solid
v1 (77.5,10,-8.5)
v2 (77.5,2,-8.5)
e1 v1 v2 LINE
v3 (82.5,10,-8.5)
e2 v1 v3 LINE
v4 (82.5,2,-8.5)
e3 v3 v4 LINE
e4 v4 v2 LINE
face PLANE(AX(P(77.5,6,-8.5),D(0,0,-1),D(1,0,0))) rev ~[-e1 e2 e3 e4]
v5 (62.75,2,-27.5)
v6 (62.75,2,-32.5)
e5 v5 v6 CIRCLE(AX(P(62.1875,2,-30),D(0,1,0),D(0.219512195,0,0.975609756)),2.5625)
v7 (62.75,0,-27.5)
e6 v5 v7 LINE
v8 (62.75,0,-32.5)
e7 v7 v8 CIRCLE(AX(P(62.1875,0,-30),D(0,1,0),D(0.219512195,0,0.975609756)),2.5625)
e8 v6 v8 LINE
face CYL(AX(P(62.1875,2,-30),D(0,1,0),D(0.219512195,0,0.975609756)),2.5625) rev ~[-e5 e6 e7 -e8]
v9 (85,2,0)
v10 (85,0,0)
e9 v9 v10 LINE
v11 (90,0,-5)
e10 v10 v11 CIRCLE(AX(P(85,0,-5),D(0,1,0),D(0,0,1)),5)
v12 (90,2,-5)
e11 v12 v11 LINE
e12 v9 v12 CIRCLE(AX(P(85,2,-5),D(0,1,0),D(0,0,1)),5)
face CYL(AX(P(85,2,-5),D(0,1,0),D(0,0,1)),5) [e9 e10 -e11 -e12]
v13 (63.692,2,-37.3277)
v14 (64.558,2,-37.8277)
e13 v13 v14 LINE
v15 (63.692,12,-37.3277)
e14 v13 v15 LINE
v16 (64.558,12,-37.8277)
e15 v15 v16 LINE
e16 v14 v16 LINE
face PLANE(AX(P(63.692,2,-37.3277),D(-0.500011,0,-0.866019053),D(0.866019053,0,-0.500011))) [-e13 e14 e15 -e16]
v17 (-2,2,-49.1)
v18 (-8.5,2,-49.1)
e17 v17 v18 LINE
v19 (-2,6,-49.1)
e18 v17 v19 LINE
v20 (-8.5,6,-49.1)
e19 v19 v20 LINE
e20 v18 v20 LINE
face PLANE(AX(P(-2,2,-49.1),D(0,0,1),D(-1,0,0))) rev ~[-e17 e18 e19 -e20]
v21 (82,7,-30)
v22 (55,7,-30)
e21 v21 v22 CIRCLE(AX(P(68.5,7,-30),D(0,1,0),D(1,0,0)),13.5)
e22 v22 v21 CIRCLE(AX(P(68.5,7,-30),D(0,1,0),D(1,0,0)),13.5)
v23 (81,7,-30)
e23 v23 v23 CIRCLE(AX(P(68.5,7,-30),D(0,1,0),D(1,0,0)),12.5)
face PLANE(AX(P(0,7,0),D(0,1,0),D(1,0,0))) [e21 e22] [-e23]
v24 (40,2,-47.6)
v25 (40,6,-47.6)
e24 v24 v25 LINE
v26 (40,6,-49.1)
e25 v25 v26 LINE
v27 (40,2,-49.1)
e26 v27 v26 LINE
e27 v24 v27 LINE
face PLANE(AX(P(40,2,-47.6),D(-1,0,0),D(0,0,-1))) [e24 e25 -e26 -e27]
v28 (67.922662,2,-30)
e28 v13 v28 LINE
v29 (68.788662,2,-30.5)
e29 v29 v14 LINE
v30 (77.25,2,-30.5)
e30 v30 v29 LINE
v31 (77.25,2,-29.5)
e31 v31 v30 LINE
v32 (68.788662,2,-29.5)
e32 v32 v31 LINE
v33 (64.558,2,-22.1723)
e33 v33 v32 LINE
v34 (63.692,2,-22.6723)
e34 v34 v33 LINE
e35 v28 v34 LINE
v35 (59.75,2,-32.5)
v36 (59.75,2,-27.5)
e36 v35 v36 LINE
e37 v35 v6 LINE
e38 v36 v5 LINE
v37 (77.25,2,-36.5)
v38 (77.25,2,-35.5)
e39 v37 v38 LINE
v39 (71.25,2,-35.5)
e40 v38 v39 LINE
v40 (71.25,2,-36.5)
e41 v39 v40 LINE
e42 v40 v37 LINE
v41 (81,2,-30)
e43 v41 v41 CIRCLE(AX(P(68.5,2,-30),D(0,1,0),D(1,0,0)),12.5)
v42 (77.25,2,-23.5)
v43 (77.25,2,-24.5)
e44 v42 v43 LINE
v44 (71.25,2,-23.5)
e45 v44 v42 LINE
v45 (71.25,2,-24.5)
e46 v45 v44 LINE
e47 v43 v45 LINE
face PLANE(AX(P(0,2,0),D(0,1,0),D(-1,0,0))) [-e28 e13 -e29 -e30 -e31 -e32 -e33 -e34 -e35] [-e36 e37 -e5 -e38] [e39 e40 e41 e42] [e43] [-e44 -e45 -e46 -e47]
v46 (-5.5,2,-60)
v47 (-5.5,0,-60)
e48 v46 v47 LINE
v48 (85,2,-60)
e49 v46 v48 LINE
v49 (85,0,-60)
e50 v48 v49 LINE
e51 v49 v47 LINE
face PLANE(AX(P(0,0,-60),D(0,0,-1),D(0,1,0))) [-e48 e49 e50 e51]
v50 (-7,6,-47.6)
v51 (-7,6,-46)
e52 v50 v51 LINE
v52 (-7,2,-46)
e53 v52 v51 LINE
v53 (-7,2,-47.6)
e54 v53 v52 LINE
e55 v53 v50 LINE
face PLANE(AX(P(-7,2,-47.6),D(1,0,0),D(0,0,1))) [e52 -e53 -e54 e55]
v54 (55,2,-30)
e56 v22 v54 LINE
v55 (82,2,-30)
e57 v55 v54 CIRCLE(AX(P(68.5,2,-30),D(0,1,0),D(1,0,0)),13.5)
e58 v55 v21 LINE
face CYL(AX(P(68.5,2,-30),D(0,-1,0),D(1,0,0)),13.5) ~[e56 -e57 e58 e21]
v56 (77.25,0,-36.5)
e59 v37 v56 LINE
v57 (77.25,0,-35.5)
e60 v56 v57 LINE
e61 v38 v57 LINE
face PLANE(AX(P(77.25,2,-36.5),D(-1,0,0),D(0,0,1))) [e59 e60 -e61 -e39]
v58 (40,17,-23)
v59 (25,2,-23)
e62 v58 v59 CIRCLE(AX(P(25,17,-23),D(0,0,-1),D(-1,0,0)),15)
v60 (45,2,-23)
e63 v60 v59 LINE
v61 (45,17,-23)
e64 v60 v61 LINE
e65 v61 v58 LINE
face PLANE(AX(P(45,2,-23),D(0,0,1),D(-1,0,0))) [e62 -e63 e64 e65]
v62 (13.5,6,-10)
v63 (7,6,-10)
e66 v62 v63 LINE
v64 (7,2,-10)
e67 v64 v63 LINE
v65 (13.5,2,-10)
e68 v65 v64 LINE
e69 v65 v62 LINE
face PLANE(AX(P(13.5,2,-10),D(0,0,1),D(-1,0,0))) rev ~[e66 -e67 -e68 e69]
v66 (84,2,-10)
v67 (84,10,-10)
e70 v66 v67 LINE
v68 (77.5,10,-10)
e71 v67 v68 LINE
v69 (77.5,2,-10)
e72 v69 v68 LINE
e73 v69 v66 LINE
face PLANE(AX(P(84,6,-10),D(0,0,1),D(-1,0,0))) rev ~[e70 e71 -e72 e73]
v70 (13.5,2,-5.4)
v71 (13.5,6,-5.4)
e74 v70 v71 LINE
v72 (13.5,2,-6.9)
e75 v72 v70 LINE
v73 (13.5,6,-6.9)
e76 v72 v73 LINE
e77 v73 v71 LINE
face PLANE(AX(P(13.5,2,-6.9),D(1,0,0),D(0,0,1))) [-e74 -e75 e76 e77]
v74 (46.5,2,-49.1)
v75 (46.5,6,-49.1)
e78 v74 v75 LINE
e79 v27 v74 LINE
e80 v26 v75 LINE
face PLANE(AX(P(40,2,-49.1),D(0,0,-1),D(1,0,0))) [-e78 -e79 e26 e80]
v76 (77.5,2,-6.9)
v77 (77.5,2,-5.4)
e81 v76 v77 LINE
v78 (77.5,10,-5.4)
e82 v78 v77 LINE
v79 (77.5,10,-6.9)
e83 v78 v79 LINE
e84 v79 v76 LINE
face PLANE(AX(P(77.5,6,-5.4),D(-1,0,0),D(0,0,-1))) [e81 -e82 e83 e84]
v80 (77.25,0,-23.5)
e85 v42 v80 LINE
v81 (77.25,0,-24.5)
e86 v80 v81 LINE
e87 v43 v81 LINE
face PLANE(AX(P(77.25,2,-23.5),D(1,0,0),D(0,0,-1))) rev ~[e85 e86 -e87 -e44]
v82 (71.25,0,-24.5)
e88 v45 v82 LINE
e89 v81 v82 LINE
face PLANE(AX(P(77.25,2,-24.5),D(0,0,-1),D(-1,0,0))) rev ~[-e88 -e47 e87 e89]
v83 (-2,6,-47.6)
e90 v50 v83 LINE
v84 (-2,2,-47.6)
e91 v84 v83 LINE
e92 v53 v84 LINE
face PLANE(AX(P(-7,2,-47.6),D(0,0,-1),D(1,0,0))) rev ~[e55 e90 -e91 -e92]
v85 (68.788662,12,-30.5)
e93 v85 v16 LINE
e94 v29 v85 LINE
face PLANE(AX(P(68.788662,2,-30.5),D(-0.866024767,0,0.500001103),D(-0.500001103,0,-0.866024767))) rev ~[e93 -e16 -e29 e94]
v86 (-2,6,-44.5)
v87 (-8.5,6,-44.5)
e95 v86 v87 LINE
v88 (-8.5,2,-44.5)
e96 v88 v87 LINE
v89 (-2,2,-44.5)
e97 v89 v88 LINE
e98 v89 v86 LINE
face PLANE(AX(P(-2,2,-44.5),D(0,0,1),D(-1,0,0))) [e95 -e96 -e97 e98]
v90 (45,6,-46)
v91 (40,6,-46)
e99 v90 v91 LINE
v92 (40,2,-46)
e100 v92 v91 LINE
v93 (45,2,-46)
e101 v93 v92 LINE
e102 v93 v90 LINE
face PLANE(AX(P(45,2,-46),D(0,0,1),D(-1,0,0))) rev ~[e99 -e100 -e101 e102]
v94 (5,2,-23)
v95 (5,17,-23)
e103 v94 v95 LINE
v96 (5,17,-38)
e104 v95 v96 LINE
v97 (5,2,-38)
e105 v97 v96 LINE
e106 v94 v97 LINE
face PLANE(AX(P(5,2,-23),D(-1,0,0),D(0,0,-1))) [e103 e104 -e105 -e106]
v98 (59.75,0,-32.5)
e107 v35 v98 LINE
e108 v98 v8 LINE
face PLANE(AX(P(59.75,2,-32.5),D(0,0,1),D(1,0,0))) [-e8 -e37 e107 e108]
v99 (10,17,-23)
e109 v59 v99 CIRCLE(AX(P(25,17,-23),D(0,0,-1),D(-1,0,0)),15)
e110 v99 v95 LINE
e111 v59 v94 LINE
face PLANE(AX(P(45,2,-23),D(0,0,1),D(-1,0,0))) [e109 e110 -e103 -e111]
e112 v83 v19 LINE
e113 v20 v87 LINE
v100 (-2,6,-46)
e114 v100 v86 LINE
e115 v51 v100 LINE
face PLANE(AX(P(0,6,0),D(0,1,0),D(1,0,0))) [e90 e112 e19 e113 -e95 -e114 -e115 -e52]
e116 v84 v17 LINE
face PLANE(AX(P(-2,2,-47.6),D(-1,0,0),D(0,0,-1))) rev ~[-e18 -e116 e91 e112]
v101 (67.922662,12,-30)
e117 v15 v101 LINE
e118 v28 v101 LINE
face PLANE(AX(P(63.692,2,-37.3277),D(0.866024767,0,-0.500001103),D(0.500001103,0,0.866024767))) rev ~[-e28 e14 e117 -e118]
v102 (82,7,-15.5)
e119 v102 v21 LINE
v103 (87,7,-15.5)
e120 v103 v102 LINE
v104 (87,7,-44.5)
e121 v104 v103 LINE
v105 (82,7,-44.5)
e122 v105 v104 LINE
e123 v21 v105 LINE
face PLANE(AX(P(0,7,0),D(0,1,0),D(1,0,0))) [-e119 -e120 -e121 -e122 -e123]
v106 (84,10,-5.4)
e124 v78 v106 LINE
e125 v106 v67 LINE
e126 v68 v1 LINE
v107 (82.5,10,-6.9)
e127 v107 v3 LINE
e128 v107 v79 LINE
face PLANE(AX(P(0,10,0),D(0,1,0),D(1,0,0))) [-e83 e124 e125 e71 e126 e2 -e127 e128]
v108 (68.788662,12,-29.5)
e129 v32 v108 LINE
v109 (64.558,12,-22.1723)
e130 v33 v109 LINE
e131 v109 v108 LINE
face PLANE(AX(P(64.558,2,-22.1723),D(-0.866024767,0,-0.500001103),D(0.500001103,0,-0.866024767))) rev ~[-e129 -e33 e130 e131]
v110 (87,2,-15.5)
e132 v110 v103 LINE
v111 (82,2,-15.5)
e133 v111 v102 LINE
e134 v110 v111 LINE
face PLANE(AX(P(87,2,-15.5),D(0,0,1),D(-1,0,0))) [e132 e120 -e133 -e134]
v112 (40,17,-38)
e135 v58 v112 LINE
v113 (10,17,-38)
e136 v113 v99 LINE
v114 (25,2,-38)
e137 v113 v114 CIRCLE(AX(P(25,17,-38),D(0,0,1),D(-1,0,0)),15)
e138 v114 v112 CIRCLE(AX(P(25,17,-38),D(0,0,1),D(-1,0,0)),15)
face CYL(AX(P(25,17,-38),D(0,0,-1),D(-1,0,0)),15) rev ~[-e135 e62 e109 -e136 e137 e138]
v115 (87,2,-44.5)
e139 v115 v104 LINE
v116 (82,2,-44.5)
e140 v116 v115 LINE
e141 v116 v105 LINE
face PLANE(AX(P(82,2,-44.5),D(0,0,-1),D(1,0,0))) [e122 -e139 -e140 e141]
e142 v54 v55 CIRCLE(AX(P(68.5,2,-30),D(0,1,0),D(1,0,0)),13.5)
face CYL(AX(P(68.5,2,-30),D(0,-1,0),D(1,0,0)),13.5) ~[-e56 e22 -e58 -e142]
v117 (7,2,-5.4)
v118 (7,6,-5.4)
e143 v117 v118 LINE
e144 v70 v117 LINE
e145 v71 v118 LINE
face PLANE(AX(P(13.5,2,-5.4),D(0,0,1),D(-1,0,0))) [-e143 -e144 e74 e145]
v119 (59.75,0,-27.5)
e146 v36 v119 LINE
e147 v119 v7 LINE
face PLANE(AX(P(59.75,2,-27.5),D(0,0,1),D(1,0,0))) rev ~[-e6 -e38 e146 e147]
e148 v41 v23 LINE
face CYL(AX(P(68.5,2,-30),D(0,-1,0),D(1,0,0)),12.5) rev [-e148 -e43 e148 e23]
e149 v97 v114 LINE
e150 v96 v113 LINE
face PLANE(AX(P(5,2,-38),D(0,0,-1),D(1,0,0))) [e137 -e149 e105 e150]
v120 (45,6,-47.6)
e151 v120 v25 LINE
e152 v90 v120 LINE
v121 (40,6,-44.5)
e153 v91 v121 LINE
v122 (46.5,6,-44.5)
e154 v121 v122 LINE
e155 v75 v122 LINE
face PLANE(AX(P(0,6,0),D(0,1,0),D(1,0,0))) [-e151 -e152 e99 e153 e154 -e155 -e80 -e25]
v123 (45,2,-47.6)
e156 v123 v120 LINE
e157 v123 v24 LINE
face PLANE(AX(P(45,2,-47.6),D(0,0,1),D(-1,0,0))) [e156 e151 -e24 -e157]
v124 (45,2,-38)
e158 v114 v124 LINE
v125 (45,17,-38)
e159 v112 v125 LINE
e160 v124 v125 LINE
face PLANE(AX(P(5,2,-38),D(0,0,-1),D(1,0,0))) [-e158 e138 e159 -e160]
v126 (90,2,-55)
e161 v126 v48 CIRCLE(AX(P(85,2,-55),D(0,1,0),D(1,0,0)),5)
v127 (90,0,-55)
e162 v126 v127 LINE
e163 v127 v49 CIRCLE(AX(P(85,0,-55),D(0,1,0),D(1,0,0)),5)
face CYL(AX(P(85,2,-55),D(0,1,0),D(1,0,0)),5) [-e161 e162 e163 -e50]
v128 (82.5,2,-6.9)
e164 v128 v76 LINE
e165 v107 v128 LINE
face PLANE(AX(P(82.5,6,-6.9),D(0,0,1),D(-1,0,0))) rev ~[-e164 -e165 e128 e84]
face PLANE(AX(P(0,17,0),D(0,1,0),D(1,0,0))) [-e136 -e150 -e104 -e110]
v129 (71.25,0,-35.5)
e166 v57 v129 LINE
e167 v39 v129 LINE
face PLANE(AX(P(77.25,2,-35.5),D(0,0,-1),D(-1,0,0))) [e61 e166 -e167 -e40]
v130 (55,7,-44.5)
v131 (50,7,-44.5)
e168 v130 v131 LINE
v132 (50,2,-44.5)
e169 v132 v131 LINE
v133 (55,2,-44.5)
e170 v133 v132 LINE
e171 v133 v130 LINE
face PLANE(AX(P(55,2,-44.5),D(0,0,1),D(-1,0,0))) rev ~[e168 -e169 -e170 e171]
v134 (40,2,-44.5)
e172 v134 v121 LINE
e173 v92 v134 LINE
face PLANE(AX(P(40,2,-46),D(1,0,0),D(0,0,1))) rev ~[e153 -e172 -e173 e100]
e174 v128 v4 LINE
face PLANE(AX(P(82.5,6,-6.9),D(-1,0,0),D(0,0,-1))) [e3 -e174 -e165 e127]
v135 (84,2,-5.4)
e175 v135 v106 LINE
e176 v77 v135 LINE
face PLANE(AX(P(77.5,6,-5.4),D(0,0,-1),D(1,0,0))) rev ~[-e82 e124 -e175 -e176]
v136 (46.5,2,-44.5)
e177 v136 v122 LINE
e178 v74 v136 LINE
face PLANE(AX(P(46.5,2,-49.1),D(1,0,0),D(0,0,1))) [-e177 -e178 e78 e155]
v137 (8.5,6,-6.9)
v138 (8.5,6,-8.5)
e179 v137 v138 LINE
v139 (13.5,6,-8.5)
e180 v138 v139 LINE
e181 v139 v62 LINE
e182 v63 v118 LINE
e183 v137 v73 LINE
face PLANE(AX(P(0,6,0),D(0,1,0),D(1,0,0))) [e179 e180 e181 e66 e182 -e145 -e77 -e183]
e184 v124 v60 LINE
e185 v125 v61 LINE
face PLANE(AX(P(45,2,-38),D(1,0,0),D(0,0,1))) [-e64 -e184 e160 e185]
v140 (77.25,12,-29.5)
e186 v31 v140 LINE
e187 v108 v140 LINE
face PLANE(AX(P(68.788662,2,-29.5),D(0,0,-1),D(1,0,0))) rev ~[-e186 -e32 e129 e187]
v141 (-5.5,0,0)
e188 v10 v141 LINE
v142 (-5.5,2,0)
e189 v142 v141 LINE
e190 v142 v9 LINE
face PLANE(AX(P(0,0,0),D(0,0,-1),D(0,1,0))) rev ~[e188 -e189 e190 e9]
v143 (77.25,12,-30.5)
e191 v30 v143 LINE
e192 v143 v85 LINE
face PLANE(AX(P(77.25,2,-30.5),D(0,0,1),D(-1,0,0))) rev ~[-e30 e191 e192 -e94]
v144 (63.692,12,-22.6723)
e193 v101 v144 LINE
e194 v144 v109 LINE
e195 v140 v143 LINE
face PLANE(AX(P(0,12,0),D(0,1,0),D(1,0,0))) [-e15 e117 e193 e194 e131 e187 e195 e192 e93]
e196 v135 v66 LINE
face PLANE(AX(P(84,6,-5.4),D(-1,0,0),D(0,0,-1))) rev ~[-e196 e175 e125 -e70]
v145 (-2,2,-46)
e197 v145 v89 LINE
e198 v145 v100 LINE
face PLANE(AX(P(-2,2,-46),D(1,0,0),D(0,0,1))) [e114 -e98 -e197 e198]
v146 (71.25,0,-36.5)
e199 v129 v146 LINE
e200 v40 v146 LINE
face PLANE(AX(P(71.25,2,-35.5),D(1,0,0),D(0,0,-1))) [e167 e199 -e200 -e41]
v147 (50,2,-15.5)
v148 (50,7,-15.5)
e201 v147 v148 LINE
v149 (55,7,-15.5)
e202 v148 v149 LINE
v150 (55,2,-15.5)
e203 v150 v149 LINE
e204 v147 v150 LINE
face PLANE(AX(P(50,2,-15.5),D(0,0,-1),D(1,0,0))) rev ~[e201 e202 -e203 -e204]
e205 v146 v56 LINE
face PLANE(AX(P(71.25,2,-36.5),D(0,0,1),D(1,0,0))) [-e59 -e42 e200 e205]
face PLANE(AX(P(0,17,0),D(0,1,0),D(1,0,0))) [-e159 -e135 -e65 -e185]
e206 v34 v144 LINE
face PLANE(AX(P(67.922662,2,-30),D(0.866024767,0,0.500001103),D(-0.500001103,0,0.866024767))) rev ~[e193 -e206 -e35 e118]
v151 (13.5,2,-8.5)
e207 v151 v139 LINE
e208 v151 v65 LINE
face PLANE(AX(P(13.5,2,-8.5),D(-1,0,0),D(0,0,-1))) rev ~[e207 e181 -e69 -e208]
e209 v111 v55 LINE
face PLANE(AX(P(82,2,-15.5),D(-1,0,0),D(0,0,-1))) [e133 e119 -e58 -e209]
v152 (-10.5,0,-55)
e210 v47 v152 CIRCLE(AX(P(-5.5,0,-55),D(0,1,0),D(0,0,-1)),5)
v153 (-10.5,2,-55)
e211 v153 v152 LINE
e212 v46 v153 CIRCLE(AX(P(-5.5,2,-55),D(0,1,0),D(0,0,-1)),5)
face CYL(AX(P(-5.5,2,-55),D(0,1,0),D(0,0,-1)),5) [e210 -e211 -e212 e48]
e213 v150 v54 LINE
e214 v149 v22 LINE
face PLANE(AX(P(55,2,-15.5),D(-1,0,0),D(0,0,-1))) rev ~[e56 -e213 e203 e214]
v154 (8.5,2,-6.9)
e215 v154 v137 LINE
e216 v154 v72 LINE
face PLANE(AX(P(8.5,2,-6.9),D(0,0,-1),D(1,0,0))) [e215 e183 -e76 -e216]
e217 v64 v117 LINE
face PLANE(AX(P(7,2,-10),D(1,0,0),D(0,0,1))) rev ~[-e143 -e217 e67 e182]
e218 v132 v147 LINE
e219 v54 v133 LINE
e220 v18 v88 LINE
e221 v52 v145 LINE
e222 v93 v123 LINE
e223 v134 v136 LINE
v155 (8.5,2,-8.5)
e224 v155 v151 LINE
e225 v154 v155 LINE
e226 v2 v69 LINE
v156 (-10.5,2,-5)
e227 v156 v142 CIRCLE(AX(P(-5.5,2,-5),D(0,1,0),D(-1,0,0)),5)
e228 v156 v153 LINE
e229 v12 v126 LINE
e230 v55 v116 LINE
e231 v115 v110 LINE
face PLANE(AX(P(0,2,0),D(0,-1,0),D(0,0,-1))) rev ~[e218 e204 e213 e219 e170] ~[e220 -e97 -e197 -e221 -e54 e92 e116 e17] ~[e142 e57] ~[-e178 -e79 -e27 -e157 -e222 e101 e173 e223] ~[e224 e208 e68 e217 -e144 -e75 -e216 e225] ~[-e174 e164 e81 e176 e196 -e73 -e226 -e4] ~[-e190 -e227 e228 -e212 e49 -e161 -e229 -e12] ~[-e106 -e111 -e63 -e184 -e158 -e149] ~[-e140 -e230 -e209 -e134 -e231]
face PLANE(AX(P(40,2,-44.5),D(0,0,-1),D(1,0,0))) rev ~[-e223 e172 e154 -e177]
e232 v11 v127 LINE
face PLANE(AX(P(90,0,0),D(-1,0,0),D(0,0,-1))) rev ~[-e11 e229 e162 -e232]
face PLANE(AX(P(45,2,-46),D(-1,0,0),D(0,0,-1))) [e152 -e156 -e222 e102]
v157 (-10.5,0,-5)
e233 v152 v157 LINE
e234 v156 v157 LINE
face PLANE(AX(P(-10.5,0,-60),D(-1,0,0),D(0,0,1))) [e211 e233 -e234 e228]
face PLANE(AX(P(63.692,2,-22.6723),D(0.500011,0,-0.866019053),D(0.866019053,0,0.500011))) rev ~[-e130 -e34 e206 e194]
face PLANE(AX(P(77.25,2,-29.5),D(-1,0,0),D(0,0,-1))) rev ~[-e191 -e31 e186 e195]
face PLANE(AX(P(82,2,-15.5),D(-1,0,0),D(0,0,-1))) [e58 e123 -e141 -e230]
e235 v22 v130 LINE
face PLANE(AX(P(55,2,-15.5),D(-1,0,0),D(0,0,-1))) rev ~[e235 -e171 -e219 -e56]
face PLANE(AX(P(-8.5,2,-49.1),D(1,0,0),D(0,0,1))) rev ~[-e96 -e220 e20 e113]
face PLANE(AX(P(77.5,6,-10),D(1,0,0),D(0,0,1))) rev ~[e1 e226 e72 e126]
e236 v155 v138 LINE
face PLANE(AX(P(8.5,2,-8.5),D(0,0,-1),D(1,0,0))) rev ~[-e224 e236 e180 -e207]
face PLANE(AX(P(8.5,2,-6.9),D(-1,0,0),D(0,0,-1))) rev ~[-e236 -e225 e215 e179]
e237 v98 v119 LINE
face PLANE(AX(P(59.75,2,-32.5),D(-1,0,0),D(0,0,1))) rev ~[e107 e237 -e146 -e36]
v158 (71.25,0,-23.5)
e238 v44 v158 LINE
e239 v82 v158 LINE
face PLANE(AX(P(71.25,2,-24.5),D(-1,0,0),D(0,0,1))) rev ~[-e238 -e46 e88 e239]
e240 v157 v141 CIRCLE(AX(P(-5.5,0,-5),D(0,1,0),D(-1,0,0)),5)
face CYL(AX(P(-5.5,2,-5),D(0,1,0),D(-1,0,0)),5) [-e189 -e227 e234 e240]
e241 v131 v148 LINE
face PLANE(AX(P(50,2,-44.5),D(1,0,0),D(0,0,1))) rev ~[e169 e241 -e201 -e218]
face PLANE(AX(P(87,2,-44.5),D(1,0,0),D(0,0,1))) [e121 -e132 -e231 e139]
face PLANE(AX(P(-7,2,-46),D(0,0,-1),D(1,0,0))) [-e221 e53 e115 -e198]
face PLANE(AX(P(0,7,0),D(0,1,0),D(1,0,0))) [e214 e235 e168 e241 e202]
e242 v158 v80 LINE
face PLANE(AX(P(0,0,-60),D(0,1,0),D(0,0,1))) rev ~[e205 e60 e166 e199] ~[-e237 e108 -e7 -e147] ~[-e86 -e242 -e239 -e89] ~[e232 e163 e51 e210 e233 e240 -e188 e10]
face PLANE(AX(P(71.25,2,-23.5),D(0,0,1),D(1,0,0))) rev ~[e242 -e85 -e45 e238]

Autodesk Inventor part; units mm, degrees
ref_plane "YZ Plane" through (0, 0, 0) normal (1, 0, 0) x (0, 1, 0)
ref_plane "XZ Plane" through (0, 0, 0) normal (0, 1, 0) x (-1, 0, 0)
ref_plane "XY Plane" through (0, 0, 0) normal (0, 0, 1) x (1, 0, 0)
sketch "Sketch1" plane through (0, 0, 0) normal (0, 1, 0) x (-1, 0, 0)
  line L0 (0, 0) -> (-90, 0)
  line L1 (-90, 0) -> (-90, -60)
  line L2 (-90, -60) -> (0, -60)
  line L3 (0, -60) -> (0, 0)
  dimension "d0" = 90
  dimension "d1" = 60
extrude "Extrusion1" add sketch "Sketch1" along normal blind 2
sketch "Sketch2" plane through (0, 2, 0) normal (0, 1, 0) x (1, 0, 0)
  line L0 (90, 0) -> (90, 60) construction
  line L1 (90, 60) -> (77.25, 60) construction
  line L2 (90, 60) -> (0, 60) construction
  line L3 (77.25, 60) -> (77.25, 0) construction
  line L4 (0, 0) -> (90, 0) construction
  line L5 (77.25, 30) -> (77.25, 35.5) construction
  line L6 (77.25, 35.5) -> (77.25, 30) construction
  line L7 (77.25, 30) -> (77.25, 24.5) construction
  line L8 (77.25, 24.5) -> (71.25, 24.5)
  line L9 (71.25, 24.5) -> (71.25, 23.5)
  line L10 (71.25, 23.5) -> (77.25, 23.5)
  line L11 (77.25, 23.5) -> (77.25, 24.5)
  line L12 (77.25, 35.5) -> (71.25, 35.5)
  line L13 (71.25, 35.5) -> (71.25, 36.5)
  line L14 (71.25, 36.5) -> (77.25, 36.5)
  line L15 (77.25, 36.5) -> (77.25, 35.5)
  dimension "d4" = 12.75
  dimension "d5" = 5.5
  dimension "d6" = 5.5
  dimension "d7" = 6
  dimension "d8" = 1
  dimension "d9" = 1
extrude "Extrusion2" cut sketch "Sketch2" against normal through all
sketch "Sketch3" plane through (0, 2, 0) normal (0, 1, 0) x (1, 0, 0)
  line L0 (77.25, 35.5) -> (71.25, 35.5) construction
  line L1 (77.25, 24.5) -> (71.25, 24.5) construction
  line L2 (71.25, 35.5) -> (71.25, 24.5) construction
  line L3 (71.25, 30) -> (64.75, 30) construction
  line L4 (64.75, 30) -> (64.75, 32.5) construction
  line L5 (64.75, 32.5) -> (59.75, 32.5) construction
  line L6 (59.75, 32.5) -> (59.75, 27.5) construction
  line L7 (59.75, 27.5) -> (64.75, 27.5) construction
  line L8 (64.75, 27.5) -> (64.75, 32.5) construction
  line L9 (59.75, 27.5) -> (62.75, 27.5) construction
  line L10 (59.75, 32.5) -> (62.75, 32.5) construction
  arc A0 (62.75, 27.5) -> (62.75, 32.5) centre (62.1875, 30) ccw
  line L11 (62.75, 32.5) -> (59.75, 32.5) construction
  line L12 (59.75, 32.5) -> (59.75, 27.5) construction
  line L13 (59.75, 32.5) -> (62.75, 32.5)
  line L14 (59.75, 32.5) -> (59.75, 27.5)
  line L15 (59.75, 27.5) -> (62.75, 27.5)
  point P0 (0, 0)
  dimension "d12" = 6.5
  dimension "d15" = 2.5
  dimension "d16" = 5
  dimension "d17" = 5
  dimension "d18" = 3
  dimension "d19" = 3
extrude "Extrusion3" cut sketch "Sketch3" against normal through all
sketch "Sketch20" plane through (0, 2, 0) normal (0, 1, 0) x (1, 0, 0)
  line L0 (77.25, 36.5) -> (77.25, 35.5) construction
  line L1 (77.25, 36.5) -> (59.75, 36.5) construction
  line L2 (59.75, 23.5) -> (77.25, 23.5) construction
  line L3 (77.25, 23.5) -> (77.25, 36.5) construction
  line L4 (68.5, 30) -> (77.25, 30) construction
  line L5 (68.5, 30) -> (68.5, 29.5) construction
  line L6 (68.5, 29.5) -> (77.25, 29.5)
  line L7 (77.25, 29.5) -> (77.25, 30.5)
  line L8 (77.25, 30.5) -> (68.5, 30.5)
  line L9 (68.5, 30.5) -> (68.5, 29.5)
  line L10 (68.933, 30.25) -> (64.558, 37.8277)
  line L11 (63.692, 37.3277) -> (68.067, 29.75)
  line L12 (68.067, 29.75) -> (68.933, 30.25)
  line L13 (69.7542, 40.8277) -> (58.4958, 34.3277) construction
  line L14 (68.067, 30.25) -> (63.692, 22.6723)
  line L15 (64.558, 22.1723) -> (68.933, 29.75)
  line L16 (68.933, 29.75) -> (68.067, 30.25)
  line L17 (58.4958, 25.6723) -> (69.7542, 19.1723) construction
  line L18 (63.692, 37.3277) -> (64.558, 37.8277)
  line L19 (63.692, 22.6723) -> (64.558, 22.1723)
  point P0 (0, 0)
  point P1 (64.125, 37.5777)
  point P2 (64.125, 22.4223)
  dimension "d143" = 13
  dimension "d144" = 0.5
  dimension "d145" = 1
  dimension "d148" = 360
extrude "Extrusion17" add sketch "Sketch20" along normal blind 10
sketch "Sketch21" plane through (0, 2, 0) normal (0, 1, 0) x (1, 0, 0)
  line L0 (77.25, 24.5) -> (77.25, 23.5) construction
  line L1 (77.25, 23.5) -> (59.75, 23.5) construction
  line L2 (59.75, 23.5) -> (59.75, 36.5) construction
  line L3 (59.75, 36.5) -> (77.25, 36.5) construction
  line L4 (77.25, 36.5) -> (77.25, 23.5) construction
  circle A0 centre (68.5, 30) radius 12.5
  circle A1 centre (68.5, 30) radius 13.5
  point P0 (0, 0)
  dimension "d154" = 13
  dimension "d155" = 25
  dimension "d156" = 27
extrude "Extrusion18" add sketch "Sketch21" along normal blind 5
sketch "Sketch23" plane through (0, 2, 0) normal (0, 1, 0) x (1, 0, 0)
  line L0 (90, 0) -> (90, 60) construction
  line L1 (90, 30) -> (87, 30) construction
  line L2 (87, 30) -> (87, 18.5) construction
  line L3 (87, 18.5) -> (50, 18.5) construction
  line L4 (50, 18.5) -> (50, 41.5) construction
  line L5 (50, 41.5) -> (87, 41.5) construction
  line L6 (87, 41.5) -> (87, 18.5) construction
  line L7 (87, 18.5) -> (87, 15.5) construction
  line L8 (87, 15.5) -> (82, 15.5) construction
  line L9 (87, 15.5) -> (82, 15.5)
  line L10 (82, 15.5) -> (82, 44.5)
  line L11 (82, 44.5) -> (87, 44.5)
  line L12 (87, 44.5) -> (87, 15.5)
  line L13 (50, 18.5) -> (50, 15.5) construction
  line L14 (50, 15.5) -> (55, 15.5)
  line L15 (55, 15.5) -> (55, 44.5)
  line L16 (55, 44.5) -> (50, 44.5)
  line L17 (50, 44.5) -> (50, 15.5)
  point P0 (0, 0)
  dimension "d164" = 3
  dimension "d165" = 11.5
  dimension "d166" = 37
  dimension "d167" = 23
  dimension "d168" = 3
  dimension "d169" = 5
  dimension "d170" = 5
  dimension "d171" = 29
  dimension "d172" = 3
  dimension "d173" = 5
  dimension "d174" = 29
extrude "Extrusion19" add sketch "Sketch23" along normal blind 5
sketch "Sketch24" plane through (0, 2, 0) normal (0, 1, 0) x (1, 0, 0)
  line L0 (84, 8.5) -> (82.5, 8.5) construction
  line L1 (82.5, 8.5) -> (8.5, 8.5) construction
  line L2 (8.5, 8.5) -> (8.5, 6.9) construction
  line L3 (8.5, 6.9) -> (82.5, 6.9) construction
  line L4 (82.5, 6.9) -> (82.5, 8.5) construction
  line L5 (82.5, 6.9) -> (77.5, 6.9)
  line L6 (77.5, 6.9) -> (77.5, 5.4)
  line L7 (77.5, 5.4) -> (84, 5.4)
  line L8 (82.5, 6.9) -> (82.5, 8.5)
  line L9 (82.5, 8.5) -> (77.5, 8.5)
  line L10 (77.5, 8.5) -> (77.5, 10)
  line L11 (8.5, 6.9) -> (13.5, 6.9)
  line L12 (13.5, 6.9) -> (13.5, 5.4)
  line L13 (13.5, 5.4) -> (7, 5.4)
  line L14 (8.5, 8.5) -> (13.5, 8.5)
  line L15 (13.5, 8.5) -> (13.5, 10)
  line L16 (13.5, 10) -> (7, 10)
  line L17 (7, 10) -> (7, 5.4)
  line L18 (8.5, 6.9) -> (8.5, 8.5)
  line L19 (77.5, 10) -> (84, 10)
  line L20 (84, 5.4) -> (84, 10)
  line L21 (84, 8.5) -> (90, 8.5) construction
  line L22 (90, 0) -> (90, 60) construction
  line L23 (87, 44.5) -> (87, 15.5) construction
  line L24 (87, 15.5) -> (90, 15.5) construction
  line L25 (90, 8.5) -> (90, 15.5) construction
  point P0 (0, 0)
  dimension "d178" = 1.5
  dimension "d179" = 74
  dimension "d180" = 1.6
  dimension "d181" = 5
  dimension "d182" = 1.5
  dimension "d183" = 5
  dimension "d184" = 1.5
  dimension "d185" = 5
  dimension "d186" = 1.5
  dimension "d187" = 6.5
  dimension "d188" = 5
  dimension "d189" = 1.5
  dimension "d230" = 6
  dimension "d231" = 7
extrude "Extrusion20" add sketch "Sketch24" along normal blind 4
sketch "Sketch25" plane through (0, 6, 0) normal (0, 1, 0) x (1, 0, 0)
  line L0 (84, 5.4) -> (84, 10) projected
  line L1 (77.5, 5.4) -> (84, 5.4)
  line L2 (84, 5.4) -> (84, 10)
  line L3 (84, 10) -> (77.5, 10) projected
  line L4 (84, 10) -> (77.5, 10)
  line L5 (77.5, 10) -> (77.5, 8.5) projected
  line L6 (77.5, 10) -> (77.5, 8.5)
  line L7 (77.5, 8.5) -> (82.5, 8.5) projected
  line L8 (77.5, 8.5) -> (82.5, 8.5)
  line L9 (82.5, 6.9) -> (82.5, 8.5) projected
  line L10 (82.5, 8.5) -> (82.5, 6.9)
  line L11 (82.5, 6.9) -> (77.5, 6.9)
  line L12 (77.5, 5.4) -> (77.5, 6.9)
  point P0 (0, 0)
extrude "Extrusion21" add sketch "Sketch25" along normal blind 4
sketch "Sketch26" plane through (0, 2, 0) normal (0, 1, 0) x (1, 0, 0)
  line L0 (50, 15.5) -> (55, 15.5) projected
  line L1 (45, 23) -> (5, 23)
  line L2 (5, 23) -> (5, 38)
  line L3 (5, 38) -> (45, 38)
  line L4 (45, 38) -> (45, 23)
  line L5 (50, 15.5) -> (50, 0) construction
  line L6 (50, 0) -> (45, 0) construction
  line L7 (0, 0) -> (90, 0) construction
  line L8 (45, 23) -> (45, 0) construction
  dimension "d195" = 40
  dimension "d196" = 15
  dimension "d229" = 23
extrude "Extrusion22" add sketch "Sketch26" along normal blind 15
sketch "Sketch27" plane through (45, 2, -38) normal (0, 0, -1) x (-1, 0, 0)
  line L0 (40, 15) -> (0, 15) projected
  circle A0 centre (20, 15) radius 15
  point P0 (45, -2)
  dimension "d199" = 30
extrude "Extrusion23" cut sketch "Sketch27" against normal blind 15
sketch "Sketch29" plane through (0, 2, 0) normal (0, 1, 0) x (1, 0, 0)
  line L0 (25, 38) -> (45, 38) projected
  line L1 (45, 38) -> (45, 46) construction
  line L2 (45, 46) -> (-7, 46) construction
  line L3 (-7, 46) -> (-7, 47.6) construction
  line L4 (-7, 47.6) -> (45, 47.6) construction
  line L5 (45, 47.6) -> (45, 46) construction
  line L6 (45, 46) -> (40, 46)
  line L7 (40, 46) -> (40, 44.5)
  line L8 (40, 44.5) -> (46.5, 44.5)
  line L9 (45, 46) -> (45, 47.6)
  line L10 (45, 47.6) -> (40, 47.6)
  line L11 (40, 47.6) -> (40, 49.1)
  line L12 (40, 49.1) -> (46.5, 49.1)
  line L13 (46.5, 49.1) -> (46.5, 44.5)
  line L14 (-7, 47.6) -> (-7, 46)
  line L15 (-7, 46) -> (-2, 46)
  line L16 (-2, 46) -> (-2, 44.5)
  line L17 (-2, 44.5) -> (-8.5, 44.5)
  line L18 (-7, 47.6) -> (-2, 47.6)
  line L19 (-2, 47.6) -> (-2, 49.1)
  line L20 (-2, 49.1) -> (-8.5, 49.1)
  line L21 (-8.5, 49.1) -> (-8.5, 44.5)
  point P0 (0, 0)
  dimension "d215" = 8
  dimension "d216" = 52
  dimension "d217" = 1.6
  dimension "d218" = 5
  dimension "d219" = 1.5
  dimension "d220" = 6.5
  dimension "d221" = 1.5
  dimension "d222" = 5
  dimension "d223" = 6.5
  dimension "d224" = 6.5
extrude "Extrusion25" add sketch "Sketch29" along normal blind 4
sketch "Sketch30" plane through (0, 0, -60) normal (-1, 0, 0) x (0, 0, 1)
  line L0 (0, 0) -> (0, 2) projected
  line L1 (60, 0) -> (60, 2) projected
  line L2 (0, 0) -> (60, 0)
  line L3 (60, 0) -> (60, 2)
  line L4 (60, 2) -> (0, 2)
  line L5 (0, 2) -> (0, 0)
extrude "Extrusion26" add sketch "Sketch30" along normal blind 10.5
sketch "Sketch31" plane through (0, 2, 0) normal (0, 1, 0) x (1, 0, 0)
  arc A0 (90, 55) -> (85, 60) centre (85, 55) ccw
  arc A1 (-10.5, 5) -> (-5.5, 0) centre (-5.5, 5) ccw
  arc A2 (-5.5, 60) -> (-10.5, 55) centre (-5.5, 55) ccw
  arc A3 (85, 0) -> (90, 5) centre (85, 5) ccw
  line L0 (90, 0) -> (85, 0)
  line L1 (90, 0) -> (90, 5)
  line L2 (-5.5, 0) -> (-10.5, 0)
  line L3 (-10.5, 55) -> (-10.5, 60)
  line L4 (-10.5, 60) -> (-5.5, 60)
  line L5 (85, 60) -> (90, 60)
  line L6 (90, 60) -> (90, 55)
  line L7 (-10.5, 0) -> (-10.5, 5)
  point P0 (0, 0)
  dimension "d232" = 5
extrude "Extrusion27" cut sketch "Sketch31" against normal through all
properties part number "base"
